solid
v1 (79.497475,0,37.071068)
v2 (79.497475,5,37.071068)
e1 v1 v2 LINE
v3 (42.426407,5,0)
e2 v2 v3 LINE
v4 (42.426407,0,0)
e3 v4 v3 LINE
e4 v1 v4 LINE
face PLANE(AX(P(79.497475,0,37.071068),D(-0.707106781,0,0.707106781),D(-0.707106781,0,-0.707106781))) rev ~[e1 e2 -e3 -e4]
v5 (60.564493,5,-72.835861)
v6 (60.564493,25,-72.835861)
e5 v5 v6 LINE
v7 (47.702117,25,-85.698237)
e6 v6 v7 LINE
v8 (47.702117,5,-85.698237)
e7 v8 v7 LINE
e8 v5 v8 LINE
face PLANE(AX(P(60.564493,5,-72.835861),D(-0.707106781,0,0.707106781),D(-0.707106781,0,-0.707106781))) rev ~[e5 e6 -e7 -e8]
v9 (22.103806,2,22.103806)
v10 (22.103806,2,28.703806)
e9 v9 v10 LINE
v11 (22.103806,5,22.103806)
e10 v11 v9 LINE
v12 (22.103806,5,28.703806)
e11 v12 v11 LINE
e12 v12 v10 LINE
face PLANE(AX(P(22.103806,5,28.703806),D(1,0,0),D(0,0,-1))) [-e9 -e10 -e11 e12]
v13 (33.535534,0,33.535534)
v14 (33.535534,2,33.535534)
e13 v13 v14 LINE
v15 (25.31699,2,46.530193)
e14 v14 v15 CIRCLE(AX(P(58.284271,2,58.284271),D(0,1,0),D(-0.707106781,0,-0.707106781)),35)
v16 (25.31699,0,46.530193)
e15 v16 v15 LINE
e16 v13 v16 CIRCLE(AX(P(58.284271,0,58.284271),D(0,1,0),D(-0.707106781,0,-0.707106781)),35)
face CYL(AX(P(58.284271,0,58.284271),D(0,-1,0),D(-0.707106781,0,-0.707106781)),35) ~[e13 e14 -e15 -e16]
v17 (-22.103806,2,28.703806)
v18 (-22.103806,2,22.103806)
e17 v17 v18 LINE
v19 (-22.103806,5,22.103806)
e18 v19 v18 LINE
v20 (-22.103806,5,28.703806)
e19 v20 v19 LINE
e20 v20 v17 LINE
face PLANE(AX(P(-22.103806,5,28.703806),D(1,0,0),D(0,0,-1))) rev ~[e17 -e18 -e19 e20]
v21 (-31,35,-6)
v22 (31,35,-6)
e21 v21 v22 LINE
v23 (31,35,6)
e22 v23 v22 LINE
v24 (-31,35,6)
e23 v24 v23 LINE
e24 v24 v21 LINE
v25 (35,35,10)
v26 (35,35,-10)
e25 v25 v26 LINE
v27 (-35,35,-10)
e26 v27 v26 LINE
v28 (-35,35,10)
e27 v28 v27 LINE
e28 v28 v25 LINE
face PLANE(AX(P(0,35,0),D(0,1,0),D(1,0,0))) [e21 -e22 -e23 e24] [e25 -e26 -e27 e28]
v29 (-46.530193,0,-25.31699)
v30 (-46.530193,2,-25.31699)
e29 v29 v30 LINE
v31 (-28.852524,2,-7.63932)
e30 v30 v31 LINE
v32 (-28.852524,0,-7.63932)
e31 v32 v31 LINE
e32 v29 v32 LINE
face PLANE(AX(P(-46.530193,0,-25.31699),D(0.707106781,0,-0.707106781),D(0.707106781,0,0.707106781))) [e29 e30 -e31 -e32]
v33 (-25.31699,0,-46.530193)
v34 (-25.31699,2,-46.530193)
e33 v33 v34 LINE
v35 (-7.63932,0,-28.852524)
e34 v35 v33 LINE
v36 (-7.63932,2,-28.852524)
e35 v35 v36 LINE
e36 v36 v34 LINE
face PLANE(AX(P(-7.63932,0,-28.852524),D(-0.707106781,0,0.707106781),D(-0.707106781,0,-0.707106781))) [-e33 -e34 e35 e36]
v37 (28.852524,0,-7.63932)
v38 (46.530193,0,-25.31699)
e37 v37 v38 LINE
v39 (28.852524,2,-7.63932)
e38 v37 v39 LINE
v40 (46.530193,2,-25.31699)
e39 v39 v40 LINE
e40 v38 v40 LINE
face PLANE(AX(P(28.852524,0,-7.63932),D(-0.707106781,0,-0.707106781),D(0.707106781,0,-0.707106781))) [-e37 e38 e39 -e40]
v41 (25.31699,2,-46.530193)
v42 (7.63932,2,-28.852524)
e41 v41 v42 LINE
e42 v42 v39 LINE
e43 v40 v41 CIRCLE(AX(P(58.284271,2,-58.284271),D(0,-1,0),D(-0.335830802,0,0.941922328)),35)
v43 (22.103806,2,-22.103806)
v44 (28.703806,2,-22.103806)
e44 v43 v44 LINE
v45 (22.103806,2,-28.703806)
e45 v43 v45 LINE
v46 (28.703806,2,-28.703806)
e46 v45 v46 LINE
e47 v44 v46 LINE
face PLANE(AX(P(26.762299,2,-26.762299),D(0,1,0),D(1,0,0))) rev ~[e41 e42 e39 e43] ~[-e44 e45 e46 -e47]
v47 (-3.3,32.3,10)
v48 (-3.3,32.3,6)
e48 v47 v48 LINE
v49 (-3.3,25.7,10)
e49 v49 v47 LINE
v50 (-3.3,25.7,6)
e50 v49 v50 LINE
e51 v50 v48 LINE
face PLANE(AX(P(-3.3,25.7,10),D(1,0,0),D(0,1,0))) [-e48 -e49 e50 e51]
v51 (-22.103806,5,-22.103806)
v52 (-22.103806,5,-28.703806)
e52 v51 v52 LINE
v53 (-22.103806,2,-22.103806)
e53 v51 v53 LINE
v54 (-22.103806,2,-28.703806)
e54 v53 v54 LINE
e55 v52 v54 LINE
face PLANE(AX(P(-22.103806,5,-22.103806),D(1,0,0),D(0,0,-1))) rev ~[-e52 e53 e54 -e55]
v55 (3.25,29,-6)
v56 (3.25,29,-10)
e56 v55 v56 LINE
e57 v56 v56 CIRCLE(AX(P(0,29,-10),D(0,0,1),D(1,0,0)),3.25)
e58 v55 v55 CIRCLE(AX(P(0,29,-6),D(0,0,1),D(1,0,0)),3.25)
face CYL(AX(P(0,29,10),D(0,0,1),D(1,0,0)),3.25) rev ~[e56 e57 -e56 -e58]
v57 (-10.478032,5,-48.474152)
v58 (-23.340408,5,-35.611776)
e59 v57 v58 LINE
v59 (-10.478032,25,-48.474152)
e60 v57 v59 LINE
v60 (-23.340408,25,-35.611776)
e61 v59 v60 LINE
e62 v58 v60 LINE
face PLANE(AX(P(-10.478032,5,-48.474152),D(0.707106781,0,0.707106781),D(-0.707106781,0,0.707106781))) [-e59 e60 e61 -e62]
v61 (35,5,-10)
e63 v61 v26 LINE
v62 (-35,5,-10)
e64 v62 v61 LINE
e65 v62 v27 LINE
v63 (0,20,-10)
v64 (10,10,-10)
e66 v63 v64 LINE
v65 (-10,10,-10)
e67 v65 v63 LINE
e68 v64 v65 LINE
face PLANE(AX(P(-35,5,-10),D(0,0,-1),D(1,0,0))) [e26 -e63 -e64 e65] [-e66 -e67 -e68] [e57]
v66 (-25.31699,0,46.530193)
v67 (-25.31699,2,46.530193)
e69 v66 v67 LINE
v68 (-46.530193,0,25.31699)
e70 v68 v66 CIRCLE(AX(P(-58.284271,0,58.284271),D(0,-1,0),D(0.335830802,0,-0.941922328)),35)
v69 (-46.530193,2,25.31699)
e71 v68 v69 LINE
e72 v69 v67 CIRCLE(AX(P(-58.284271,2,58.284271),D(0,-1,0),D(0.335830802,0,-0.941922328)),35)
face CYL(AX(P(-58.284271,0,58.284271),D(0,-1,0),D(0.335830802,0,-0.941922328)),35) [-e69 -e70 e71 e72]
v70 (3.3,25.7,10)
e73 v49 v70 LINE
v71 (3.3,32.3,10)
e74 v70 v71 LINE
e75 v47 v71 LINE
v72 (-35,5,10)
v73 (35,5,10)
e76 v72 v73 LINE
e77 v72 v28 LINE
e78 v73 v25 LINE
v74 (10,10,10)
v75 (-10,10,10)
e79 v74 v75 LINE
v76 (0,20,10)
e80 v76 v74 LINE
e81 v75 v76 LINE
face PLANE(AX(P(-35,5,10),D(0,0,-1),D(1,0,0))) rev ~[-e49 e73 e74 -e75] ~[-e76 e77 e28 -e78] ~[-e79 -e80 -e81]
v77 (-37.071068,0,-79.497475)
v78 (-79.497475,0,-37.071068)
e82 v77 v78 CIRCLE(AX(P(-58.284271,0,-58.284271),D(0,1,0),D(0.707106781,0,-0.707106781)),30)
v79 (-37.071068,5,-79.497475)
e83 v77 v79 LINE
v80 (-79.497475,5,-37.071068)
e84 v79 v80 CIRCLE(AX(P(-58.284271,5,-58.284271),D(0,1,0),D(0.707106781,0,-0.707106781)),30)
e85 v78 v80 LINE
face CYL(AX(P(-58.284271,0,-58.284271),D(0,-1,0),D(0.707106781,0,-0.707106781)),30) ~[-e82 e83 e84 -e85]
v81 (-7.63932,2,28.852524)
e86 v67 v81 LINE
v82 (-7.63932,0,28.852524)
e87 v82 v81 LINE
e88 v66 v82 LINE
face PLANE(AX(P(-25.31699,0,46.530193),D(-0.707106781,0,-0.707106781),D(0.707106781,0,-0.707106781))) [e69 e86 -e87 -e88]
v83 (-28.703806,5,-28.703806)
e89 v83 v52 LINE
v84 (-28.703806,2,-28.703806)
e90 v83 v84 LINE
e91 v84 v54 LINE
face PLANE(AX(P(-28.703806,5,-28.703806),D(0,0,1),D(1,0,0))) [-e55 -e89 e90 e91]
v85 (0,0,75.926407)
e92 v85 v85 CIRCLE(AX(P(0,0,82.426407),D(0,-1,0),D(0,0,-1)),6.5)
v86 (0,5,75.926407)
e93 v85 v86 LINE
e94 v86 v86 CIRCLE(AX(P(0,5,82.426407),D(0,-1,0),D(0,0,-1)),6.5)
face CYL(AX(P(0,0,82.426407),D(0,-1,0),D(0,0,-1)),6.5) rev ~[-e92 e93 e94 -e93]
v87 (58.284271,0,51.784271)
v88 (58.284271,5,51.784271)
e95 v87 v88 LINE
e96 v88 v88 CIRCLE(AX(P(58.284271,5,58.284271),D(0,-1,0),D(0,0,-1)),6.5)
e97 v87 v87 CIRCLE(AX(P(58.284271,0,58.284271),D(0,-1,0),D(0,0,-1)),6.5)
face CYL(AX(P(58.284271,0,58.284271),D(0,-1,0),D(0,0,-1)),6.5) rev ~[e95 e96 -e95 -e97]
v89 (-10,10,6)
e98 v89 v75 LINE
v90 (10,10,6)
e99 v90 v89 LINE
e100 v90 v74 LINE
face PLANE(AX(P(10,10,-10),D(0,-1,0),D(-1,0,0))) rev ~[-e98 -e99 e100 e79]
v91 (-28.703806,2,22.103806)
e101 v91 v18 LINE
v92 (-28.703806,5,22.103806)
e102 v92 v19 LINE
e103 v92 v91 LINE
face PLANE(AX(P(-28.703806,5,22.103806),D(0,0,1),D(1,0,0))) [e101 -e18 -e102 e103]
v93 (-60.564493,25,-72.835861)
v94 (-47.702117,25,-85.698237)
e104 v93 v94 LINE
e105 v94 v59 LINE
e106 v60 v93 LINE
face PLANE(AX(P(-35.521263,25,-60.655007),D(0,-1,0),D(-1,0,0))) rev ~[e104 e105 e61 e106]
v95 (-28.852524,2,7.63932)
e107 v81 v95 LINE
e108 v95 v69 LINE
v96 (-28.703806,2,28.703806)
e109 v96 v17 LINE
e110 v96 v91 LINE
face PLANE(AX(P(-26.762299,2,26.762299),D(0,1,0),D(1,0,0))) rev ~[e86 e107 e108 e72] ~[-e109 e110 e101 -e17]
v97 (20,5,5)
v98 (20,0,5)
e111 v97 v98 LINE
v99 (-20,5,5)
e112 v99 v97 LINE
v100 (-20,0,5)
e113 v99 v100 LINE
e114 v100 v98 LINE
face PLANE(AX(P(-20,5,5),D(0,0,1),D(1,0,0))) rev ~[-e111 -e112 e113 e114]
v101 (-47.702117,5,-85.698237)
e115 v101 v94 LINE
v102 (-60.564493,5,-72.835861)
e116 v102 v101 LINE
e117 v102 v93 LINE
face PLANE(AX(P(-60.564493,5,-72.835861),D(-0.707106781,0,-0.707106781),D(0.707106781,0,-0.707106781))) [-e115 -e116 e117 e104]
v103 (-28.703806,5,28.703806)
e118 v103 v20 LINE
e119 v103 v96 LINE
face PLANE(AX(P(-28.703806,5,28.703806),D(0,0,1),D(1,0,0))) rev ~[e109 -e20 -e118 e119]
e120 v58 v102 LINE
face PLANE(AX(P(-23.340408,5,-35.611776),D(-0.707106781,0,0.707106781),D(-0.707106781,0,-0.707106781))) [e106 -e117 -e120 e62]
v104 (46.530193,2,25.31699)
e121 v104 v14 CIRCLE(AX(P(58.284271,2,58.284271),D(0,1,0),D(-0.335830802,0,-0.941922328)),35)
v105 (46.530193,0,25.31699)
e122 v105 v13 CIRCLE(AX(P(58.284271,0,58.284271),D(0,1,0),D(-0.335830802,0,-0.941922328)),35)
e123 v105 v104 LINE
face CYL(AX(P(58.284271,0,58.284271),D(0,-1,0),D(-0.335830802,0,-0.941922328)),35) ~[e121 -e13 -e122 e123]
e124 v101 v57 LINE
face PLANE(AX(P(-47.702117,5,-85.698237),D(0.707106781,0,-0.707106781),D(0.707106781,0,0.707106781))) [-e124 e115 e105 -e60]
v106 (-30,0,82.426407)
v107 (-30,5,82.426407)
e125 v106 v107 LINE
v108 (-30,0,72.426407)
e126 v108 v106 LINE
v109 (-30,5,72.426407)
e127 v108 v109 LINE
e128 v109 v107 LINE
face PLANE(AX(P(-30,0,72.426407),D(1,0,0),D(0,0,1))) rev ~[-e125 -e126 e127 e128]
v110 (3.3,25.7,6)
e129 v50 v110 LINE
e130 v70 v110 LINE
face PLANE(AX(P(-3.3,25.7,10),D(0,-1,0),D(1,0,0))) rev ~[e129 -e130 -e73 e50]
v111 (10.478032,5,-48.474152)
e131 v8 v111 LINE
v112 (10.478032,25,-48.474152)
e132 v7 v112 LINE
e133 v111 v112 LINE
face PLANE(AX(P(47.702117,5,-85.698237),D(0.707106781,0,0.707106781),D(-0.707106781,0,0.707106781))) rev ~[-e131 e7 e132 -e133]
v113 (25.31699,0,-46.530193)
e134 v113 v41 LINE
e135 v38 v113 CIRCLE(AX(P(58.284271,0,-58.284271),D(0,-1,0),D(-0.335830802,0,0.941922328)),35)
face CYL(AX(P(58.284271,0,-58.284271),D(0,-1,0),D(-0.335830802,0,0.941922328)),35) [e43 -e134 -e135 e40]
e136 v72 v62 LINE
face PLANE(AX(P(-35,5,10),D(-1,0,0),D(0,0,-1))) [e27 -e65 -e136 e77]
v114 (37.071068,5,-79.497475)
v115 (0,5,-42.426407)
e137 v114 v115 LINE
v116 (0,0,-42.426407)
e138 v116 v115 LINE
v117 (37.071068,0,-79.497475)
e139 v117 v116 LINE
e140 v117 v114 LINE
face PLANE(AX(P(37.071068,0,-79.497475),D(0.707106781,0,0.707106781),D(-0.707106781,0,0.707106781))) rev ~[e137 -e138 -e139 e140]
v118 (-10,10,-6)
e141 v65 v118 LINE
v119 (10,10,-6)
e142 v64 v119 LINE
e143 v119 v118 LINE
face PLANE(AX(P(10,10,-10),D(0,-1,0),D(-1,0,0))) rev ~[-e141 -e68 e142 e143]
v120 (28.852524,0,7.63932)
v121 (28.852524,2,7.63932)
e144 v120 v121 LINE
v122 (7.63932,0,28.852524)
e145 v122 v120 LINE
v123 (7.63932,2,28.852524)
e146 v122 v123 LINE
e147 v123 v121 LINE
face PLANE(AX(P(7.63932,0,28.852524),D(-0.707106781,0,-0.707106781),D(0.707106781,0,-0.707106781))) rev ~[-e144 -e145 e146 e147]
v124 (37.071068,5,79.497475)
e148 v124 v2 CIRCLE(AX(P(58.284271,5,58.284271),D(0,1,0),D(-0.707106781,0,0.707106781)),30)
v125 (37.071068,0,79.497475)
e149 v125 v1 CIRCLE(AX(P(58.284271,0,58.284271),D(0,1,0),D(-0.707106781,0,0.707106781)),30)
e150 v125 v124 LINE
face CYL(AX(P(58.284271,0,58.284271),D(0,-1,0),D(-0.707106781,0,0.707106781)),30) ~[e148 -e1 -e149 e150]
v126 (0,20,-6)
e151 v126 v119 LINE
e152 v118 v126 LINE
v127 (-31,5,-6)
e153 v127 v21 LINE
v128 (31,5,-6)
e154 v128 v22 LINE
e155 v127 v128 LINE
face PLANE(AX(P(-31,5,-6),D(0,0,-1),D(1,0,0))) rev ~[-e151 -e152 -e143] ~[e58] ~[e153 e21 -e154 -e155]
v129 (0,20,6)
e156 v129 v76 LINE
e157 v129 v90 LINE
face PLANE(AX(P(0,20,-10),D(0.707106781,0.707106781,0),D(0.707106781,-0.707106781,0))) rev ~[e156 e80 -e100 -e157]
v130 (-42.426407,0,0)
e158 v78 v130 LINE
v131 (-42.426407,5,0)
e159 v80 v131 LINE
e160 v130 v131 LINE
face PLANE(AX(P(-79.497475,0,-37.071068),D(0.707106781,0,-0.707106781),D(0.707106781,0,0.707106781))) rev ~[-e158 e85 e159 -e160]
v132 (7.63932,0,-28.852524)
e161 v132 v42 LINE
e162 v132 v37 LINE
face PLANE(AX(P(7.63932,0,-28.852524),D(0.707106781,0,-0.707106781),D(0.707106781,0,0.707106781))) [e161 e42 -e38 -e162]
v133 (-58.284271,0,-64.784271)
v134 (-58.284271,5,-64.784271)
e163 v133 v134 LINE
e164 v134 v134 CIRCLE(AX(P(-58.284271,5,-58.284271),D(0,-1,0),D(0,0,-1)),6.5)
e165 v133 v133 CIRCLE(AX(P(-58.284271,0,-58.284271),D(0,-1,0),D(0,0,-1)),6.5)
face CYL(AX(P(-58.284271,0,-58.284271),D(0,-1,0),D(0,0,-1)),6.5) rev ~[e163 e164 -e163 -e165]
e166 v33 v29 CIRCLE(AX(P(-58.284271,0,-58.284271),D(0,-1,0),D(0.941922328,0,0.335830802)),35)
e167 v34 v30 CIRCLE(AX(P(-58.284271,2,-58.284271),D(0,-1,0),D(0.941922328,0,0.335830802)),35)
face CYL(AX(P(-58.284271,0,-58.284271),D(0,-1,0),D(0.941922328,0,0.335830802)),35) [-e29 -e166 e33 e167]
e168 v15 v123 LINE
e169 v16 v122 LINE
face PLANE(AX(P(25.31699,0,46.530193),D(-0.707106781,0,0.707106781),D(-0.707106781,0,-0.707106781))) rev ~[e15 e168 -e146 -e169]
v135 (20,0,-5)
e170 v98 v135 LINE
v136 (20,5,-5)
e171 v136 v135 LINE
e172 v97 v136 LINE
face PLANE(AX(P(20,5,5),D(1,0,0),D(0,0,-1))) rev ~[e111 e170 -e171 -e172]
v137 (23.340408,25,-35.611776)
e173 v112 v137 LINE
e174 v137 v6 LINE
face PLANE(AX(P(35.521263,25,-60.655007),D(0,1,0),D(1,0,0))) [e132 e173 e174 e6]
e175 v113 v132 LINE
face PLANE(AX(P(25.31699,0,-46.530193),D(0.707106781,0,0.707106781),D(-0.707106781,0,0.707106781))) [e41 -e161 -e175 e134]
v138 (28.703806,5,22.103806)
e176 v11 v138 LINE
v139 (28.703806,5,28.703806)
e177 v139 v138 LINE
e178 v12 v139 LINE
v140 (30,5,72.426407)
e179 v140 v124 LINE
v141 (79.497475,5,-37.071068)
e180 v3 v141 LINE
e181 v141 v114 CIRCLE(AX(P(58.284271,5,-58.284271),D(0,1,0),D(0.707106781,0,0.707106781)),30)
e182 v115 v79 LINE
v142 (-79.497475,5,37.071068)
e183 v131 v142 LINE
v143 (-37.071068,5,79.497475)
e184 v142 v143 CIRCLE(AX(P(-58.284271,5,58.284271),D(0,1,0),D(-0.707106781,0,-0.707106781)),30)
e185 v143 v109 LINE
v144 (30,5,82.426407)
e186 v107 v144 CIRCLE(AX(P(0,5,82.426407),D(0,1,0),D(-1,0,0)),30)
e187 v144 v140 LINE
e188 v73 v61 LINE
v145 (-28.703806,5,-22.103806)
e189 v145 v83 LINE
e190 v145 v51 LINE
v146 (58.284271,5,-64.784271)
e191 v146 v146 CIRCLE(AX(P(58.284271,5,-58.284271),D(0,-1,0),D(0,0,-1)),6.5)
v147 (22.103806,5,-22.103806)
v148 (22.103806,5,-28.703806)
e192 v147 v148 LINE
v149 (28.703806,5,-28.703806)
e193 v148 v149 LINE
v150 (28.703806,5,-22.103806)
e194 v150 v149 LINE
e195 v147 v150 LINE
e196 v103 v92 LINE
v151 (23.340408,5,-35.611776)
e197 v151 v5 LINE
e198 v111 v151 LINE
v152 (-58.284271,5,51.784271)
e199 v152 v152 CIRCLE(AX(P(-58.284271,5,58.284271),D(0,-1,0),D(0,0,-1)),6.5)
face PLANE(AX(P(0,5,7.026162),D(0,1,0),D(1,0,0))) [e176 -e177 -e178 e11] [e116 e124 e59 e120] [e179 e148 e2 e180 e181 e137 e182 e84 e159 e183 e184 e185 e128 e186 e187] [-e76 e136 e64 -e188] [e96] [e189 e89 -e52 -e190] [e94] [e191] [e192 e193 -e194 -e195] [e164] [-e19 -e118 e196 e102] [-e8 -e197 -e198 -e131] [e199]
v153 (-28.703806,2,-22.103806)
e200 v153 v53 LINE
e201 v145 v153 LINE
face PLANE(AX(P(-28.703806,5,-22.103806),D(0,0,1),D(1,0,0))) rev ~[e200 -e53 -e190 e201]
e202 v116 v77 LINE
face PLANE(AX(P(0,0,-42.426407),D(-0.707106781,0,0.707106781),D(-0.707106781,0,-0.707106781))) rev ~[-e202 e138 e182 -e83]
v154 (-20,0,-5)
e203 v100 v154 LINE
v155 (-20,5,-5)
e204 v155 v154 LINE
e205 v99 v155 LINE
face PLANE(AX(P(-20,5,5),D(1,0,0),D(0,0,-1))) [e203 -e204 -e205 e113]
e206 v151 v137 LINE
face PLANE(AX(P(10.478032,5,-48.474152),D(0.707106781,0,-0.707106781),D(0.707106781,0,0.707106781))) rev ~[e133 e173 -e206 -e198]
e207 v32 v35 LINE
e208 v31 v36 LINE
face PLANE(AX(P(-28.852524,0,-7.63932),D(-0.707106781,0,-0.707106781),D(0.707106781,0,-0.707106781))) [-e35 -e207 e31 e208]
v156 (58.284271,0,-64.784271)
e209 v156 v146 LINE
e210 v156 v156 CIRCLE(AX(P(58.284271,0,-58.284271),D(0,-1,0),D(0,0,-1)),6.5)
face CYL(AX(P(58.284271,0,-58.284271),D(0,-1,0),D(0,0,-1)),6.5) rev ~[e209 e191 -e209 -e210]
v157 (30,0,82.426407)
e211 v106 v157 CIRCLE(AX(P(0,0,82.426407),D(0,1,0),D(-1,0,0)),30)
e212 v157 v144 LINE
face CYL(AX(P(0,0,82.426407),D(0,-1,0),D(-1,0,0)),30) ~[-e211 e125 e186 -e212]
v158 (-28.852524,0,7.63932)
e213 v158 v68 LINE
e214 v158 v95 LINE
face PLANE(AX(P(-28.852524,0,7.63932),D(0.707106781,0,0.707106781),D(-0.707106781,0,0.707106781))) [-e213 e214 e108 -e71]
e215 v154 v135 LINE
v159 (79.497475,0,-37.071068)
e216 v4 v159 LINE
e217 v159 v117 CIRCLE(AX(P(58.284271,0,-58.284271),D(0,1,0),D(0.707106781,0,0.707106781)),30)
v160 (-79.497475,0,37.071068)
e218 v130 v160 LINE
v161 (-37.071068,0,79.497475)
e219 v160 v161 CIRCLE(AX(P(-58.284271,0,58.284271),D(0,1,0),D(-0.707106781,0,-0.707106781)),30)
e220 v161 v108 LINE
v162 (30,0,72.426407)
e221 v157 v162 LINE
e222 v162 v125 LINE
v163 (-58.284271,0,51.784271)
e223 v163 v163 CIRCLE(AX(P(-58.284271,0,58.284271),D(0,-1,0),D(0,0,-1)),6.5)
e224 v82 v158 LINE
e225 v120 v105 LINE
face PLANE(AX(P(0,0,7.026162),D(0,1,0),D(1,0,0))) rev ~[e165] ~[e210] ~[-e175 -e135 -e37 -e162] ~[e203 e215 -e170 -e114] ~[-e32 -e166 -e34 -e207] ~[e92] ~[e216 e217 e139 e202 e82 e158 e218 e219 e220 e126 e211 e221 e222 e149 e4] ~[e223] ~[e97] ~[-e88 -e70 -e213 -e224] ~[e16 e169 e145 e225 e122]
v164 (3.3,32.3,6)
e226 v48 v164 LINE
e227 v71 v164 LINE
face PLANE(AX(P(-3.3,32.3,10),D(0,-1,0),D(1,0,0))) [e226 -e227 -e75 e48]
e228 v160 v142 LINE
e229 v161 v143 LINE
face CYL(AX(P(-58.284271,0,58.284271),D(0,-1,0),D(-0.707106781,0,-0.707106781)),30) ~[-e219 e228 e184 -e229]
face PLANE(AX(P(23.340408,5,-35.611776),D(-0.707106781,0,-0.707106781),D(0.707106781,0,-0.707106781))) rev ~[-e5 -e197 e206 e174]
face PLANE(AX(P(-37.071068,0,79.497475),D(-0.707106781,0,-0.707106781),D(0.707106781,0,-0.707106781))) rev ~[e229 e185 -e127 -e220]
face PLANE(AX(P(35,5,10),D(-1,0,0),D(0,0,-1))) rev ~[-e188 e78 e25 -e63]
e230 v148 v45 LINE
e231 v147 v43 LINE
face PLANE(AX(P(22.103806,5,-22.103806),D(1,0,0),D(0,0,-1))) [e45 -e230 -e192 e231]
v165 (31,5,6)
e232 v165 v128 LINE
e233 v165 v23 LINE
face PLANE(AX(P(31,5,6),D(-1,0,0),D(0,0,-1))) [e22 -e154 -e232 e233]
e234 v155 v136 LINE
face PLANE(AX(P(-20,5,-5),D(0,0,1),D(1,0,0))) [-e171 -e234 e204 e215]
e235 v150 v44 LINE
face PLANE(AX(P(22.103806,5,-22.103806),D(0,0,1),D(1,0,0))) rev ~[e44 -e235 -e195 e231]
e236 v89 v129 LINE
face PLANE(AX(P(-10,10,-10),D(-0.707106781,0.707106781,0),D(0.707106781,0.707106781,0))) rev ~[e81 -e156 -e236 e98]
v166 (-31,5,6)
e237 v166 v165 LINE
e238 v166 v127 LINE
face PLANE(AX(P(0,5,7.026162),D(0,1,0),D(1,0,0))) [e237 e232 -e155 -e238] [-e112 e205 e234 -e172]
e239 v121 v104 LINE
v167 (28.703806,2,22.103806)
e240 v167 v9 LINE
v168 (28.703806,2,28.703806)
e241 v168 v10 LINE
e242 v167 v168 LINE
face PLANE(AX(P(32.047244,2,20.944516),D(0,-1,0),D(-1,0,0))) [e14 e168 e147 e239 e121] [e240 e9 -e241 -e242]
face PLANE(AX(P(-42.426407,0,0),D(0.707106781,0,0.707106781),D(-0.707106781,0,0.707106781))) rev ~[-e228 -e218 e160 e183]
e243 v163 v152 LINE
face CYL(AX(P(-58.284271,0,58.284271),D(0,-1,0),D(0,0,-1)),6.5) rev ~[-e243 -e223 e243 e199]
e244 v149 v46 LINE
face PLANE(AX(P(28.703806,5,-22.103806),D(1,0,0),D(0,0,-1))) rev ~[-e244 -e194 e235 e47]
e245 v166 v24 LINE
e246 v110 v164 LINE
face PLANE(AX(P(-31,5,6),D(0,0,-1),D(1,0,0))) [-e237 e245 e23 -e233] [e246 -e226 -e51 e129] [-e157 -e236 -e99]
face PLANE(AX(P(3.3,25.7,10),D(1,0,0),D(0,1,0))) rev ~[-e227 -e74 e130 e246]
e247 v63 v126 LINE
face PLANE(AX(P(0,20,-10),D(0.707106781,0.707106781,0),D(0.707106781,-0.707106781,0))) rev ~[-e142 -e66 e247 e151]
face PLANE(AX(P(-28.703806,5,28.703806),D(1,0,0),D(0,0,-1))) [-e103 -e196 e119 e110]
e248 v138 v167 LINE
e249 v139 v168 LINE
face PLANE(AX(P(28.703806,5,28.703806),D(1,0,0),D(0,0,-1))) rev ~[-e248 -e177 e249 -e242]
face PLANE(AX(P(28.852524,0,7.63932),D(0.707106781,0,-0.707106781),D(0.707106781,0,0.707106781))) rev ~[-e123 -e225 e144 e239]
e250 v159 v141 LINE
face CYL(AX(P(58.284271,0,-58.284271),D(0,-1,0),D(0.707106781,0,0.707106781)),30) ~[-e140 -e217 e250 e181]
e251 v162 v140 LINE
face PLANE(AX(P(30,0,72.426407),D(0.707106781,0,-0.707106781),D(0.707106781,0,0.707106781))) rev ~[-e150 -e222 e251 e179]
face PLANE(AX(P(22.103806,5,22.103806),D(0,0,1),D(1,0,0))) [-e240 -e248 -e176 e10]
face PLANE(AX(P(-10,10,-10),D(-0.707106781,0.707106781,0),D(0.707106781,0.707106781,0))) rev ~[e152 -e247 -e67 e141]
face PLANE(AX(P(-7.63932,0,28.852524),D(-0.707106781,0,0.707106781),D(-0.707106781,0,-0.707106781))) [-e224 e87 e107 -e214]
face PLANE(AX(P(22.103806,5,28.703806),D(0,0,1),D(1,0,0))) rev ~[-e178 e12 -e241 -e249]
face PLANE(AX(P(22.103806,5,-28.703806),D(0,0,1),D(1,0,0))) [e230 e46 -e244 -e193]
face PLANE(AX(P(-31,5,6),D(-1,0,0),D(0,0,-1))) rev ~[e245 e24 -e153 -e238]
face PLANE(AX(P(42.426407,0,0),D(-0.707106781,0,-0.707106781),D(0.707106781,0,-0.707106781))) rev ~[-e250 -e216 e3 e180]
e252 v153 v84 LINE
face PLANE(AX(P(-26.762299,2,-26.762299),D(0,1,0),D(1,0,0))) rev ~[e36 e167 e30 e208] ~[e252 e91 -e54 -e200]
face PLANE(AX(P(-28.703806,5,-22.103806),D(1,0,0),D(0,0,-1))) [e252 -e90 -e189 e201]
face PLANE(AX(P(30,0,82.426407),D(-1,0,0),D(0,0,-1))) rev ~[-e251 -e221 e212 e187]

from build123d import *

# Parameters (mm, degrees)
BOSS_EXTRU_1_DEPTH      = 5
ENL_V_MAT_EXTRU_1_DEPTH = 2
ESQUISSE7_R             = 6.5
ENL_V_MAT_EXTRU_3_DEPTH = 144.034294879
ESQUISSE10_R            = 3.175
ENL_V_MAT_EXTRU_4_DEPTH = 144.034294879
ESQUISSE11_W            = 6.6
ESQUISSE11_H            = 6.6
ENL_V_MAT_EXTRU_5_DEPTH = 3.5
BOSS_EXTRU_8_DEPTH      = 20
ESQUISSE18_W            = 70
ESQUISSE18_H            = 20
ESQUISSE18_W_2          = 62
ESQUISSE18_H_2          = 12
BOSS_EXTRU_9_DEPTH      = 30
ESQUISSE19_R            = 3.25
ENL_V_MAT_EXTRU_6_DEPTH = 140.679208812
ESQUISSE20_W            = 6.6
ESQUISSE20_H            = 6.6
ENL_V_MAT_EXTRU_7_DEPTH = 4
ESQUISSE21_W            = 40
ESQUISSE21_H            = 10
ENL_V_MAT_EXTRU_8_DEPTH = 147.060978744
ENL_V_MAT_EXTRU_9_DEPTH = 155.943014199


with BuildPart() as part:
    # Esquisse2 → Boss.-Extru.1 (new body)
    with BuildSketch(Plane(origin=(0, 0, 0), x_dir=(1, 0, 0), z_dir=(0, 1, 0))):
        with BuildLine():
            Line((79.497474683, -37.071067812), (42.426406871, 0))
            Line((42.426406871, 0), (79.497474683, 37.071067812))
            ThreePointArc((79.497474683, 37.071067812), (79.497474683, 79.497474683), (37.071067812, 79.497474683))
            Line((37.071067812, 79.497474683), (0, 42.426406871))
            Line((0, 42.426406871), (-37.071067812, 79.497474683))
            ThreePointArc((-37.071067812, 79.497474683), (-79.497474683, 79.497474683), (-79.497474683, 37.071067812))
            Line((-79.497474683, 37.071067812), (-42.426406871, 0))
            Line((-42.426406871, 0), (-79.497474683, -37.071067812))
            ThreePointArc((-79.497474683, -37.071067812), (-79.497474683, -79.497474683), (-37.071067812, -79.497474683))
            Line((-37.071067812, -79.497474683), (-30, -72.426406871))
            Line((-30, -72.426406871), (-30, -82.426406871))
            ThreePointArc((-30, -82.426406871), (0, -112.426406871), (30, -82.426406871))
            Line((30, -82.426406871), (30, -72.426406871))
            Line((30, -72.426406871), (37.071067812, -79.497474683))
            ThreePointArc((37.071067812, -79.497474683), (79.497474683, -79.497474683), (79.497474683, -37.071067812))
        make_face()
    extrude(amount=BOSS_EXTRU_1_DEPTH)

    # Esquisse4 → Enlèv. mat.-Extru.1 (cut)
    with BuildSketch(Plane(origin=(0, 0, 0), x_dir=(-1, 0, 0), z_dir=(0, -1, 0))):
        with BuildLine():
            Line((-33.535533906, -33.535533906), (-18.245921943, -18.245921943))
            Line((-18.245921943, -18.245921943), (-28.852523661, -7.639320225))
            Line((-28.852523661, -7.639320225), (-46.53019319, -25.316989755))
            ThreePointArc((-46.53019319, -25.316989755), (-39.575984314, -28.703872332), (-33.535533906, -33.535533906))
        make_face()
        with BuildLine():
            Line((-7.639320225, -28.852523661), (-18.245921943, -18.245921943))
            Line((-18.245921943, -18.245921943), (-33.535533906, -33.535533906))
            ThreePointArc((-33.535533906, -33.535533906), (-28.703872332, -39.575984314), (-25.316989755, -46.53019319))
            Line((-25.316989755, -46.53019319), (-7.639320225, -28.852523661))
        make_face()
        with BuildLine():
            ThreePointArc((-46.53019319, 25.316989755), (-33.535533906, 33.535533906), (-25.316989755, 46.53019319))
            Line((-25.316989755, 46.53019319), (-7.639320225, 28.852523661))
            Line((-7.639320225, 28.852523661), (-28.852523661, 7.639320225))
            Line((-28.852523661, 7.639320225), (-46.53019319, 25.316989755))
        make_face()
        with BuildLine():
            ThreePointArc((25.316989755, 46.53019319), (33.535533906, 33.535533906), (46.53019319, 25.316989755))
            Line((46.53019319, 25.316989755), (28.852523661, 7.639320225))
            Line((28.852523661, 7.639320225), (7.639320225, 28.852523661))
            Line((7.639320225, 28.852523661), (25.316989755, 46.53019319))
        make_face()
        with BuildLine():
            ThreePointArc((46.53019319, -25.316989755), (33.535533906, -33.535533906), (25.316989755, -46.53019319))
            Line((25.316989755, -46.53019319), (7.639320225, -28.852523661))
            Line((7.639320225, -28.852523661), (28.852523661, -7.639320225))
            Line((28.852523661, -7.639320225), (46.53019319, -25.316989755))
        make_face()
    extrude(amount=-ENL_V_MAT_EXTRU_1_DEPTH, mode=Mode.SUBTRACT)

    # Esquisse7 → Enlèv. mat.-Extru.3 (cut, through all)
    with BuildSketch(Plane(origin=(0, 0, 0), x_dir=(-1, 0, 0), z_dir=(0, -1, 0))):
        with Locations(Location((0, -82.426406871, 0), (0, 0, 90))):
            Circle(ESQUISSE7_R)
        with Locations(Location((-58.284271247, -58.284271247, 0), (0, 0, 90))):
            Circle(ESQUISSE7_R)
        with Locations(Location((-58.284271247, 58.284271247, 0), (0, 0, 90))):
            Circle(ESQUISSE7_R)
        with Locations(Location((58.284271247, 58.284271247, 0), (0, 0, 90))):
            Circle(ESQUISSE7_R)
        with Locations(Location((58.284271247, -58.284271247, 0), (0, 0, 90))):
            Circle(ESQUISSE7_R)
    extrude(amount=-ENL_V_MAT_EXTRU_3_DEPTH, mode=Mode.SUBTRACT)

    # Esquisse10 → Enlèv. mat.-Extru.4 (cut, through all)
    with BuildSketch(Plane(origin=(0, 5, 0), x_dir=(1, 0, 0), z_dir=(0, 1, 0))):
        with Locations(Location((25.403805922, -25.403805922, 0), (0, 0, 270))):
            Circle(ESQUISSE10_R)
        with Locations(Location((-25.403805922, -25.403805922, 0), (0, 0, 270))):
            Circle(ESQUISSE10_R)
        with Locations(Location((-25.403805922, 25.403805922, 0), (0, 0, 270))):
            Circle(ESQUISSE10_R)
        with Locations(Location((25.403805922, 25.403805922, 0), (0, 0, 270))):
            Circle(ESQUISSE10_R)
    extrude(amount=-ENL_V_MAT_EXTRU_4_DEPTH, mode=Mode.SUBTRACT)

    # Esquisse11 → Enlèv. mat.-Extru.5 (cut)
    with BuildSketch(Plane(origin=(0, 5, 0), x_dir=(1, 0, 0), z_dir=(0, 1, 0))):
        with Locations((-25.403805922, -25.403805922)):
            Rectangle(ESQUISSE11_W, ESQUISSE11_H)
        with Locations((25.403805922, -25.403805922)):
            Rectangle(ESQUISSE11_W, ESQUISSE11_H)
        with Locations((-25.403805922, 25.403805922)):
            Rectangle(ESQUISSE11_W, ESQUISSE11_H)
        with Locations((25.403805922, 25.403805922)):
            Rectangle(ESQUISSE11_W, ESQUISSE11_H)
    extrude(amount=-ENL_V_MAT_EXTRU_5_DEPTH, mode=Mode.SUBTRACT)

    # Esquisse16 → Boss.-Extru.8 (add)
    with BuildSketch(Plane(origin=(0, 5, 0), x_dir=(1, 0, 0), z_dir=(0, 1, 0))):
        Polygon((47.702116935, 85.698237446), (10.478031818, 48.474152329), (23.340408221, 35.611775926), (60.564493338, 72.835861043), align=None)
        Polygon((-23.340408221, 35.611775926), (-60.564493338, 72.835861043), (-47.702116935, 85.698237446), (-10.478031818, 48.474152329), align=None)
    extrude(amount=BOSS_EXTRU_8_DEPTH)

    # Esquisse18 → Boss.-Extru.9 (add)
    with BuildSketch(Plane(origin=(0, 5, 0), x_dir=(1, 0, 0), z_dir=(0, 1, 0))):
        Rectangle(ESQUISSE18_W, ESQUISSE18_H)
        Rectangle(ESQUISSE18_W_2, ESQUISSE18_H_2, mode=Mode.SUBTRACT)
    extrude(amount=BOSS_EXTRU_9_DEPTH)

    # Esquisse19 → Enlèv. mat.-Extru.6 (cut, through all)
    with BuildSketch(Plane.XY.offset(10)):
        with Locations((0, 29)):
            Circle(ESQUISSE19_R)
    extrude(amount=-ENL_V_MAT_EXTRU_6_DEPTH, mode=Mode.SUBTRACT)

    # Esquisse20 → Enlèv. mat.-Extru.7 (cut)
    with BuildSketch(Plane.XY.offset(10)):
        with Locations((0, 29)):
            Rectangle(ESQUISSE20_W, ESQUISSE20_H)
    extrude(amount=-ENL_V_MAT_EXTRU_7_DEPTH, mode=Mode.SUBTRACT)

    # Esquisse21 → Enlèv. mat.-Extru.8 (cut, through all)
    with BuildSketch(Plane(origin=(0, 5, 0), x_dir=(1, 0, 0), z_dir=(0, 1, 0))):
        Rectangle(ESQUISSE21_W, ESQUISSE21_H)
    extrude(amount=-ENL_V_MAT_EXTRU_8_DEPTH, mode=Mode.SUBTRACT)

    # Esquisse22 → Enlèv. mat.-Extru.9 (cut, through all)
    with BuildSketch(Plane(origin=(0, 0, -10), x_dir=(-1, 0, 0), z_dir=(0, 0, -1))):
        Polygon((-10, 10), (10, 10), (0, 20), align=None)
    extrude(amount=-ENL_V_MAT_EXTRU_9_DEPTH, mode=Mode.SUBTRACT)


solid = part.part
